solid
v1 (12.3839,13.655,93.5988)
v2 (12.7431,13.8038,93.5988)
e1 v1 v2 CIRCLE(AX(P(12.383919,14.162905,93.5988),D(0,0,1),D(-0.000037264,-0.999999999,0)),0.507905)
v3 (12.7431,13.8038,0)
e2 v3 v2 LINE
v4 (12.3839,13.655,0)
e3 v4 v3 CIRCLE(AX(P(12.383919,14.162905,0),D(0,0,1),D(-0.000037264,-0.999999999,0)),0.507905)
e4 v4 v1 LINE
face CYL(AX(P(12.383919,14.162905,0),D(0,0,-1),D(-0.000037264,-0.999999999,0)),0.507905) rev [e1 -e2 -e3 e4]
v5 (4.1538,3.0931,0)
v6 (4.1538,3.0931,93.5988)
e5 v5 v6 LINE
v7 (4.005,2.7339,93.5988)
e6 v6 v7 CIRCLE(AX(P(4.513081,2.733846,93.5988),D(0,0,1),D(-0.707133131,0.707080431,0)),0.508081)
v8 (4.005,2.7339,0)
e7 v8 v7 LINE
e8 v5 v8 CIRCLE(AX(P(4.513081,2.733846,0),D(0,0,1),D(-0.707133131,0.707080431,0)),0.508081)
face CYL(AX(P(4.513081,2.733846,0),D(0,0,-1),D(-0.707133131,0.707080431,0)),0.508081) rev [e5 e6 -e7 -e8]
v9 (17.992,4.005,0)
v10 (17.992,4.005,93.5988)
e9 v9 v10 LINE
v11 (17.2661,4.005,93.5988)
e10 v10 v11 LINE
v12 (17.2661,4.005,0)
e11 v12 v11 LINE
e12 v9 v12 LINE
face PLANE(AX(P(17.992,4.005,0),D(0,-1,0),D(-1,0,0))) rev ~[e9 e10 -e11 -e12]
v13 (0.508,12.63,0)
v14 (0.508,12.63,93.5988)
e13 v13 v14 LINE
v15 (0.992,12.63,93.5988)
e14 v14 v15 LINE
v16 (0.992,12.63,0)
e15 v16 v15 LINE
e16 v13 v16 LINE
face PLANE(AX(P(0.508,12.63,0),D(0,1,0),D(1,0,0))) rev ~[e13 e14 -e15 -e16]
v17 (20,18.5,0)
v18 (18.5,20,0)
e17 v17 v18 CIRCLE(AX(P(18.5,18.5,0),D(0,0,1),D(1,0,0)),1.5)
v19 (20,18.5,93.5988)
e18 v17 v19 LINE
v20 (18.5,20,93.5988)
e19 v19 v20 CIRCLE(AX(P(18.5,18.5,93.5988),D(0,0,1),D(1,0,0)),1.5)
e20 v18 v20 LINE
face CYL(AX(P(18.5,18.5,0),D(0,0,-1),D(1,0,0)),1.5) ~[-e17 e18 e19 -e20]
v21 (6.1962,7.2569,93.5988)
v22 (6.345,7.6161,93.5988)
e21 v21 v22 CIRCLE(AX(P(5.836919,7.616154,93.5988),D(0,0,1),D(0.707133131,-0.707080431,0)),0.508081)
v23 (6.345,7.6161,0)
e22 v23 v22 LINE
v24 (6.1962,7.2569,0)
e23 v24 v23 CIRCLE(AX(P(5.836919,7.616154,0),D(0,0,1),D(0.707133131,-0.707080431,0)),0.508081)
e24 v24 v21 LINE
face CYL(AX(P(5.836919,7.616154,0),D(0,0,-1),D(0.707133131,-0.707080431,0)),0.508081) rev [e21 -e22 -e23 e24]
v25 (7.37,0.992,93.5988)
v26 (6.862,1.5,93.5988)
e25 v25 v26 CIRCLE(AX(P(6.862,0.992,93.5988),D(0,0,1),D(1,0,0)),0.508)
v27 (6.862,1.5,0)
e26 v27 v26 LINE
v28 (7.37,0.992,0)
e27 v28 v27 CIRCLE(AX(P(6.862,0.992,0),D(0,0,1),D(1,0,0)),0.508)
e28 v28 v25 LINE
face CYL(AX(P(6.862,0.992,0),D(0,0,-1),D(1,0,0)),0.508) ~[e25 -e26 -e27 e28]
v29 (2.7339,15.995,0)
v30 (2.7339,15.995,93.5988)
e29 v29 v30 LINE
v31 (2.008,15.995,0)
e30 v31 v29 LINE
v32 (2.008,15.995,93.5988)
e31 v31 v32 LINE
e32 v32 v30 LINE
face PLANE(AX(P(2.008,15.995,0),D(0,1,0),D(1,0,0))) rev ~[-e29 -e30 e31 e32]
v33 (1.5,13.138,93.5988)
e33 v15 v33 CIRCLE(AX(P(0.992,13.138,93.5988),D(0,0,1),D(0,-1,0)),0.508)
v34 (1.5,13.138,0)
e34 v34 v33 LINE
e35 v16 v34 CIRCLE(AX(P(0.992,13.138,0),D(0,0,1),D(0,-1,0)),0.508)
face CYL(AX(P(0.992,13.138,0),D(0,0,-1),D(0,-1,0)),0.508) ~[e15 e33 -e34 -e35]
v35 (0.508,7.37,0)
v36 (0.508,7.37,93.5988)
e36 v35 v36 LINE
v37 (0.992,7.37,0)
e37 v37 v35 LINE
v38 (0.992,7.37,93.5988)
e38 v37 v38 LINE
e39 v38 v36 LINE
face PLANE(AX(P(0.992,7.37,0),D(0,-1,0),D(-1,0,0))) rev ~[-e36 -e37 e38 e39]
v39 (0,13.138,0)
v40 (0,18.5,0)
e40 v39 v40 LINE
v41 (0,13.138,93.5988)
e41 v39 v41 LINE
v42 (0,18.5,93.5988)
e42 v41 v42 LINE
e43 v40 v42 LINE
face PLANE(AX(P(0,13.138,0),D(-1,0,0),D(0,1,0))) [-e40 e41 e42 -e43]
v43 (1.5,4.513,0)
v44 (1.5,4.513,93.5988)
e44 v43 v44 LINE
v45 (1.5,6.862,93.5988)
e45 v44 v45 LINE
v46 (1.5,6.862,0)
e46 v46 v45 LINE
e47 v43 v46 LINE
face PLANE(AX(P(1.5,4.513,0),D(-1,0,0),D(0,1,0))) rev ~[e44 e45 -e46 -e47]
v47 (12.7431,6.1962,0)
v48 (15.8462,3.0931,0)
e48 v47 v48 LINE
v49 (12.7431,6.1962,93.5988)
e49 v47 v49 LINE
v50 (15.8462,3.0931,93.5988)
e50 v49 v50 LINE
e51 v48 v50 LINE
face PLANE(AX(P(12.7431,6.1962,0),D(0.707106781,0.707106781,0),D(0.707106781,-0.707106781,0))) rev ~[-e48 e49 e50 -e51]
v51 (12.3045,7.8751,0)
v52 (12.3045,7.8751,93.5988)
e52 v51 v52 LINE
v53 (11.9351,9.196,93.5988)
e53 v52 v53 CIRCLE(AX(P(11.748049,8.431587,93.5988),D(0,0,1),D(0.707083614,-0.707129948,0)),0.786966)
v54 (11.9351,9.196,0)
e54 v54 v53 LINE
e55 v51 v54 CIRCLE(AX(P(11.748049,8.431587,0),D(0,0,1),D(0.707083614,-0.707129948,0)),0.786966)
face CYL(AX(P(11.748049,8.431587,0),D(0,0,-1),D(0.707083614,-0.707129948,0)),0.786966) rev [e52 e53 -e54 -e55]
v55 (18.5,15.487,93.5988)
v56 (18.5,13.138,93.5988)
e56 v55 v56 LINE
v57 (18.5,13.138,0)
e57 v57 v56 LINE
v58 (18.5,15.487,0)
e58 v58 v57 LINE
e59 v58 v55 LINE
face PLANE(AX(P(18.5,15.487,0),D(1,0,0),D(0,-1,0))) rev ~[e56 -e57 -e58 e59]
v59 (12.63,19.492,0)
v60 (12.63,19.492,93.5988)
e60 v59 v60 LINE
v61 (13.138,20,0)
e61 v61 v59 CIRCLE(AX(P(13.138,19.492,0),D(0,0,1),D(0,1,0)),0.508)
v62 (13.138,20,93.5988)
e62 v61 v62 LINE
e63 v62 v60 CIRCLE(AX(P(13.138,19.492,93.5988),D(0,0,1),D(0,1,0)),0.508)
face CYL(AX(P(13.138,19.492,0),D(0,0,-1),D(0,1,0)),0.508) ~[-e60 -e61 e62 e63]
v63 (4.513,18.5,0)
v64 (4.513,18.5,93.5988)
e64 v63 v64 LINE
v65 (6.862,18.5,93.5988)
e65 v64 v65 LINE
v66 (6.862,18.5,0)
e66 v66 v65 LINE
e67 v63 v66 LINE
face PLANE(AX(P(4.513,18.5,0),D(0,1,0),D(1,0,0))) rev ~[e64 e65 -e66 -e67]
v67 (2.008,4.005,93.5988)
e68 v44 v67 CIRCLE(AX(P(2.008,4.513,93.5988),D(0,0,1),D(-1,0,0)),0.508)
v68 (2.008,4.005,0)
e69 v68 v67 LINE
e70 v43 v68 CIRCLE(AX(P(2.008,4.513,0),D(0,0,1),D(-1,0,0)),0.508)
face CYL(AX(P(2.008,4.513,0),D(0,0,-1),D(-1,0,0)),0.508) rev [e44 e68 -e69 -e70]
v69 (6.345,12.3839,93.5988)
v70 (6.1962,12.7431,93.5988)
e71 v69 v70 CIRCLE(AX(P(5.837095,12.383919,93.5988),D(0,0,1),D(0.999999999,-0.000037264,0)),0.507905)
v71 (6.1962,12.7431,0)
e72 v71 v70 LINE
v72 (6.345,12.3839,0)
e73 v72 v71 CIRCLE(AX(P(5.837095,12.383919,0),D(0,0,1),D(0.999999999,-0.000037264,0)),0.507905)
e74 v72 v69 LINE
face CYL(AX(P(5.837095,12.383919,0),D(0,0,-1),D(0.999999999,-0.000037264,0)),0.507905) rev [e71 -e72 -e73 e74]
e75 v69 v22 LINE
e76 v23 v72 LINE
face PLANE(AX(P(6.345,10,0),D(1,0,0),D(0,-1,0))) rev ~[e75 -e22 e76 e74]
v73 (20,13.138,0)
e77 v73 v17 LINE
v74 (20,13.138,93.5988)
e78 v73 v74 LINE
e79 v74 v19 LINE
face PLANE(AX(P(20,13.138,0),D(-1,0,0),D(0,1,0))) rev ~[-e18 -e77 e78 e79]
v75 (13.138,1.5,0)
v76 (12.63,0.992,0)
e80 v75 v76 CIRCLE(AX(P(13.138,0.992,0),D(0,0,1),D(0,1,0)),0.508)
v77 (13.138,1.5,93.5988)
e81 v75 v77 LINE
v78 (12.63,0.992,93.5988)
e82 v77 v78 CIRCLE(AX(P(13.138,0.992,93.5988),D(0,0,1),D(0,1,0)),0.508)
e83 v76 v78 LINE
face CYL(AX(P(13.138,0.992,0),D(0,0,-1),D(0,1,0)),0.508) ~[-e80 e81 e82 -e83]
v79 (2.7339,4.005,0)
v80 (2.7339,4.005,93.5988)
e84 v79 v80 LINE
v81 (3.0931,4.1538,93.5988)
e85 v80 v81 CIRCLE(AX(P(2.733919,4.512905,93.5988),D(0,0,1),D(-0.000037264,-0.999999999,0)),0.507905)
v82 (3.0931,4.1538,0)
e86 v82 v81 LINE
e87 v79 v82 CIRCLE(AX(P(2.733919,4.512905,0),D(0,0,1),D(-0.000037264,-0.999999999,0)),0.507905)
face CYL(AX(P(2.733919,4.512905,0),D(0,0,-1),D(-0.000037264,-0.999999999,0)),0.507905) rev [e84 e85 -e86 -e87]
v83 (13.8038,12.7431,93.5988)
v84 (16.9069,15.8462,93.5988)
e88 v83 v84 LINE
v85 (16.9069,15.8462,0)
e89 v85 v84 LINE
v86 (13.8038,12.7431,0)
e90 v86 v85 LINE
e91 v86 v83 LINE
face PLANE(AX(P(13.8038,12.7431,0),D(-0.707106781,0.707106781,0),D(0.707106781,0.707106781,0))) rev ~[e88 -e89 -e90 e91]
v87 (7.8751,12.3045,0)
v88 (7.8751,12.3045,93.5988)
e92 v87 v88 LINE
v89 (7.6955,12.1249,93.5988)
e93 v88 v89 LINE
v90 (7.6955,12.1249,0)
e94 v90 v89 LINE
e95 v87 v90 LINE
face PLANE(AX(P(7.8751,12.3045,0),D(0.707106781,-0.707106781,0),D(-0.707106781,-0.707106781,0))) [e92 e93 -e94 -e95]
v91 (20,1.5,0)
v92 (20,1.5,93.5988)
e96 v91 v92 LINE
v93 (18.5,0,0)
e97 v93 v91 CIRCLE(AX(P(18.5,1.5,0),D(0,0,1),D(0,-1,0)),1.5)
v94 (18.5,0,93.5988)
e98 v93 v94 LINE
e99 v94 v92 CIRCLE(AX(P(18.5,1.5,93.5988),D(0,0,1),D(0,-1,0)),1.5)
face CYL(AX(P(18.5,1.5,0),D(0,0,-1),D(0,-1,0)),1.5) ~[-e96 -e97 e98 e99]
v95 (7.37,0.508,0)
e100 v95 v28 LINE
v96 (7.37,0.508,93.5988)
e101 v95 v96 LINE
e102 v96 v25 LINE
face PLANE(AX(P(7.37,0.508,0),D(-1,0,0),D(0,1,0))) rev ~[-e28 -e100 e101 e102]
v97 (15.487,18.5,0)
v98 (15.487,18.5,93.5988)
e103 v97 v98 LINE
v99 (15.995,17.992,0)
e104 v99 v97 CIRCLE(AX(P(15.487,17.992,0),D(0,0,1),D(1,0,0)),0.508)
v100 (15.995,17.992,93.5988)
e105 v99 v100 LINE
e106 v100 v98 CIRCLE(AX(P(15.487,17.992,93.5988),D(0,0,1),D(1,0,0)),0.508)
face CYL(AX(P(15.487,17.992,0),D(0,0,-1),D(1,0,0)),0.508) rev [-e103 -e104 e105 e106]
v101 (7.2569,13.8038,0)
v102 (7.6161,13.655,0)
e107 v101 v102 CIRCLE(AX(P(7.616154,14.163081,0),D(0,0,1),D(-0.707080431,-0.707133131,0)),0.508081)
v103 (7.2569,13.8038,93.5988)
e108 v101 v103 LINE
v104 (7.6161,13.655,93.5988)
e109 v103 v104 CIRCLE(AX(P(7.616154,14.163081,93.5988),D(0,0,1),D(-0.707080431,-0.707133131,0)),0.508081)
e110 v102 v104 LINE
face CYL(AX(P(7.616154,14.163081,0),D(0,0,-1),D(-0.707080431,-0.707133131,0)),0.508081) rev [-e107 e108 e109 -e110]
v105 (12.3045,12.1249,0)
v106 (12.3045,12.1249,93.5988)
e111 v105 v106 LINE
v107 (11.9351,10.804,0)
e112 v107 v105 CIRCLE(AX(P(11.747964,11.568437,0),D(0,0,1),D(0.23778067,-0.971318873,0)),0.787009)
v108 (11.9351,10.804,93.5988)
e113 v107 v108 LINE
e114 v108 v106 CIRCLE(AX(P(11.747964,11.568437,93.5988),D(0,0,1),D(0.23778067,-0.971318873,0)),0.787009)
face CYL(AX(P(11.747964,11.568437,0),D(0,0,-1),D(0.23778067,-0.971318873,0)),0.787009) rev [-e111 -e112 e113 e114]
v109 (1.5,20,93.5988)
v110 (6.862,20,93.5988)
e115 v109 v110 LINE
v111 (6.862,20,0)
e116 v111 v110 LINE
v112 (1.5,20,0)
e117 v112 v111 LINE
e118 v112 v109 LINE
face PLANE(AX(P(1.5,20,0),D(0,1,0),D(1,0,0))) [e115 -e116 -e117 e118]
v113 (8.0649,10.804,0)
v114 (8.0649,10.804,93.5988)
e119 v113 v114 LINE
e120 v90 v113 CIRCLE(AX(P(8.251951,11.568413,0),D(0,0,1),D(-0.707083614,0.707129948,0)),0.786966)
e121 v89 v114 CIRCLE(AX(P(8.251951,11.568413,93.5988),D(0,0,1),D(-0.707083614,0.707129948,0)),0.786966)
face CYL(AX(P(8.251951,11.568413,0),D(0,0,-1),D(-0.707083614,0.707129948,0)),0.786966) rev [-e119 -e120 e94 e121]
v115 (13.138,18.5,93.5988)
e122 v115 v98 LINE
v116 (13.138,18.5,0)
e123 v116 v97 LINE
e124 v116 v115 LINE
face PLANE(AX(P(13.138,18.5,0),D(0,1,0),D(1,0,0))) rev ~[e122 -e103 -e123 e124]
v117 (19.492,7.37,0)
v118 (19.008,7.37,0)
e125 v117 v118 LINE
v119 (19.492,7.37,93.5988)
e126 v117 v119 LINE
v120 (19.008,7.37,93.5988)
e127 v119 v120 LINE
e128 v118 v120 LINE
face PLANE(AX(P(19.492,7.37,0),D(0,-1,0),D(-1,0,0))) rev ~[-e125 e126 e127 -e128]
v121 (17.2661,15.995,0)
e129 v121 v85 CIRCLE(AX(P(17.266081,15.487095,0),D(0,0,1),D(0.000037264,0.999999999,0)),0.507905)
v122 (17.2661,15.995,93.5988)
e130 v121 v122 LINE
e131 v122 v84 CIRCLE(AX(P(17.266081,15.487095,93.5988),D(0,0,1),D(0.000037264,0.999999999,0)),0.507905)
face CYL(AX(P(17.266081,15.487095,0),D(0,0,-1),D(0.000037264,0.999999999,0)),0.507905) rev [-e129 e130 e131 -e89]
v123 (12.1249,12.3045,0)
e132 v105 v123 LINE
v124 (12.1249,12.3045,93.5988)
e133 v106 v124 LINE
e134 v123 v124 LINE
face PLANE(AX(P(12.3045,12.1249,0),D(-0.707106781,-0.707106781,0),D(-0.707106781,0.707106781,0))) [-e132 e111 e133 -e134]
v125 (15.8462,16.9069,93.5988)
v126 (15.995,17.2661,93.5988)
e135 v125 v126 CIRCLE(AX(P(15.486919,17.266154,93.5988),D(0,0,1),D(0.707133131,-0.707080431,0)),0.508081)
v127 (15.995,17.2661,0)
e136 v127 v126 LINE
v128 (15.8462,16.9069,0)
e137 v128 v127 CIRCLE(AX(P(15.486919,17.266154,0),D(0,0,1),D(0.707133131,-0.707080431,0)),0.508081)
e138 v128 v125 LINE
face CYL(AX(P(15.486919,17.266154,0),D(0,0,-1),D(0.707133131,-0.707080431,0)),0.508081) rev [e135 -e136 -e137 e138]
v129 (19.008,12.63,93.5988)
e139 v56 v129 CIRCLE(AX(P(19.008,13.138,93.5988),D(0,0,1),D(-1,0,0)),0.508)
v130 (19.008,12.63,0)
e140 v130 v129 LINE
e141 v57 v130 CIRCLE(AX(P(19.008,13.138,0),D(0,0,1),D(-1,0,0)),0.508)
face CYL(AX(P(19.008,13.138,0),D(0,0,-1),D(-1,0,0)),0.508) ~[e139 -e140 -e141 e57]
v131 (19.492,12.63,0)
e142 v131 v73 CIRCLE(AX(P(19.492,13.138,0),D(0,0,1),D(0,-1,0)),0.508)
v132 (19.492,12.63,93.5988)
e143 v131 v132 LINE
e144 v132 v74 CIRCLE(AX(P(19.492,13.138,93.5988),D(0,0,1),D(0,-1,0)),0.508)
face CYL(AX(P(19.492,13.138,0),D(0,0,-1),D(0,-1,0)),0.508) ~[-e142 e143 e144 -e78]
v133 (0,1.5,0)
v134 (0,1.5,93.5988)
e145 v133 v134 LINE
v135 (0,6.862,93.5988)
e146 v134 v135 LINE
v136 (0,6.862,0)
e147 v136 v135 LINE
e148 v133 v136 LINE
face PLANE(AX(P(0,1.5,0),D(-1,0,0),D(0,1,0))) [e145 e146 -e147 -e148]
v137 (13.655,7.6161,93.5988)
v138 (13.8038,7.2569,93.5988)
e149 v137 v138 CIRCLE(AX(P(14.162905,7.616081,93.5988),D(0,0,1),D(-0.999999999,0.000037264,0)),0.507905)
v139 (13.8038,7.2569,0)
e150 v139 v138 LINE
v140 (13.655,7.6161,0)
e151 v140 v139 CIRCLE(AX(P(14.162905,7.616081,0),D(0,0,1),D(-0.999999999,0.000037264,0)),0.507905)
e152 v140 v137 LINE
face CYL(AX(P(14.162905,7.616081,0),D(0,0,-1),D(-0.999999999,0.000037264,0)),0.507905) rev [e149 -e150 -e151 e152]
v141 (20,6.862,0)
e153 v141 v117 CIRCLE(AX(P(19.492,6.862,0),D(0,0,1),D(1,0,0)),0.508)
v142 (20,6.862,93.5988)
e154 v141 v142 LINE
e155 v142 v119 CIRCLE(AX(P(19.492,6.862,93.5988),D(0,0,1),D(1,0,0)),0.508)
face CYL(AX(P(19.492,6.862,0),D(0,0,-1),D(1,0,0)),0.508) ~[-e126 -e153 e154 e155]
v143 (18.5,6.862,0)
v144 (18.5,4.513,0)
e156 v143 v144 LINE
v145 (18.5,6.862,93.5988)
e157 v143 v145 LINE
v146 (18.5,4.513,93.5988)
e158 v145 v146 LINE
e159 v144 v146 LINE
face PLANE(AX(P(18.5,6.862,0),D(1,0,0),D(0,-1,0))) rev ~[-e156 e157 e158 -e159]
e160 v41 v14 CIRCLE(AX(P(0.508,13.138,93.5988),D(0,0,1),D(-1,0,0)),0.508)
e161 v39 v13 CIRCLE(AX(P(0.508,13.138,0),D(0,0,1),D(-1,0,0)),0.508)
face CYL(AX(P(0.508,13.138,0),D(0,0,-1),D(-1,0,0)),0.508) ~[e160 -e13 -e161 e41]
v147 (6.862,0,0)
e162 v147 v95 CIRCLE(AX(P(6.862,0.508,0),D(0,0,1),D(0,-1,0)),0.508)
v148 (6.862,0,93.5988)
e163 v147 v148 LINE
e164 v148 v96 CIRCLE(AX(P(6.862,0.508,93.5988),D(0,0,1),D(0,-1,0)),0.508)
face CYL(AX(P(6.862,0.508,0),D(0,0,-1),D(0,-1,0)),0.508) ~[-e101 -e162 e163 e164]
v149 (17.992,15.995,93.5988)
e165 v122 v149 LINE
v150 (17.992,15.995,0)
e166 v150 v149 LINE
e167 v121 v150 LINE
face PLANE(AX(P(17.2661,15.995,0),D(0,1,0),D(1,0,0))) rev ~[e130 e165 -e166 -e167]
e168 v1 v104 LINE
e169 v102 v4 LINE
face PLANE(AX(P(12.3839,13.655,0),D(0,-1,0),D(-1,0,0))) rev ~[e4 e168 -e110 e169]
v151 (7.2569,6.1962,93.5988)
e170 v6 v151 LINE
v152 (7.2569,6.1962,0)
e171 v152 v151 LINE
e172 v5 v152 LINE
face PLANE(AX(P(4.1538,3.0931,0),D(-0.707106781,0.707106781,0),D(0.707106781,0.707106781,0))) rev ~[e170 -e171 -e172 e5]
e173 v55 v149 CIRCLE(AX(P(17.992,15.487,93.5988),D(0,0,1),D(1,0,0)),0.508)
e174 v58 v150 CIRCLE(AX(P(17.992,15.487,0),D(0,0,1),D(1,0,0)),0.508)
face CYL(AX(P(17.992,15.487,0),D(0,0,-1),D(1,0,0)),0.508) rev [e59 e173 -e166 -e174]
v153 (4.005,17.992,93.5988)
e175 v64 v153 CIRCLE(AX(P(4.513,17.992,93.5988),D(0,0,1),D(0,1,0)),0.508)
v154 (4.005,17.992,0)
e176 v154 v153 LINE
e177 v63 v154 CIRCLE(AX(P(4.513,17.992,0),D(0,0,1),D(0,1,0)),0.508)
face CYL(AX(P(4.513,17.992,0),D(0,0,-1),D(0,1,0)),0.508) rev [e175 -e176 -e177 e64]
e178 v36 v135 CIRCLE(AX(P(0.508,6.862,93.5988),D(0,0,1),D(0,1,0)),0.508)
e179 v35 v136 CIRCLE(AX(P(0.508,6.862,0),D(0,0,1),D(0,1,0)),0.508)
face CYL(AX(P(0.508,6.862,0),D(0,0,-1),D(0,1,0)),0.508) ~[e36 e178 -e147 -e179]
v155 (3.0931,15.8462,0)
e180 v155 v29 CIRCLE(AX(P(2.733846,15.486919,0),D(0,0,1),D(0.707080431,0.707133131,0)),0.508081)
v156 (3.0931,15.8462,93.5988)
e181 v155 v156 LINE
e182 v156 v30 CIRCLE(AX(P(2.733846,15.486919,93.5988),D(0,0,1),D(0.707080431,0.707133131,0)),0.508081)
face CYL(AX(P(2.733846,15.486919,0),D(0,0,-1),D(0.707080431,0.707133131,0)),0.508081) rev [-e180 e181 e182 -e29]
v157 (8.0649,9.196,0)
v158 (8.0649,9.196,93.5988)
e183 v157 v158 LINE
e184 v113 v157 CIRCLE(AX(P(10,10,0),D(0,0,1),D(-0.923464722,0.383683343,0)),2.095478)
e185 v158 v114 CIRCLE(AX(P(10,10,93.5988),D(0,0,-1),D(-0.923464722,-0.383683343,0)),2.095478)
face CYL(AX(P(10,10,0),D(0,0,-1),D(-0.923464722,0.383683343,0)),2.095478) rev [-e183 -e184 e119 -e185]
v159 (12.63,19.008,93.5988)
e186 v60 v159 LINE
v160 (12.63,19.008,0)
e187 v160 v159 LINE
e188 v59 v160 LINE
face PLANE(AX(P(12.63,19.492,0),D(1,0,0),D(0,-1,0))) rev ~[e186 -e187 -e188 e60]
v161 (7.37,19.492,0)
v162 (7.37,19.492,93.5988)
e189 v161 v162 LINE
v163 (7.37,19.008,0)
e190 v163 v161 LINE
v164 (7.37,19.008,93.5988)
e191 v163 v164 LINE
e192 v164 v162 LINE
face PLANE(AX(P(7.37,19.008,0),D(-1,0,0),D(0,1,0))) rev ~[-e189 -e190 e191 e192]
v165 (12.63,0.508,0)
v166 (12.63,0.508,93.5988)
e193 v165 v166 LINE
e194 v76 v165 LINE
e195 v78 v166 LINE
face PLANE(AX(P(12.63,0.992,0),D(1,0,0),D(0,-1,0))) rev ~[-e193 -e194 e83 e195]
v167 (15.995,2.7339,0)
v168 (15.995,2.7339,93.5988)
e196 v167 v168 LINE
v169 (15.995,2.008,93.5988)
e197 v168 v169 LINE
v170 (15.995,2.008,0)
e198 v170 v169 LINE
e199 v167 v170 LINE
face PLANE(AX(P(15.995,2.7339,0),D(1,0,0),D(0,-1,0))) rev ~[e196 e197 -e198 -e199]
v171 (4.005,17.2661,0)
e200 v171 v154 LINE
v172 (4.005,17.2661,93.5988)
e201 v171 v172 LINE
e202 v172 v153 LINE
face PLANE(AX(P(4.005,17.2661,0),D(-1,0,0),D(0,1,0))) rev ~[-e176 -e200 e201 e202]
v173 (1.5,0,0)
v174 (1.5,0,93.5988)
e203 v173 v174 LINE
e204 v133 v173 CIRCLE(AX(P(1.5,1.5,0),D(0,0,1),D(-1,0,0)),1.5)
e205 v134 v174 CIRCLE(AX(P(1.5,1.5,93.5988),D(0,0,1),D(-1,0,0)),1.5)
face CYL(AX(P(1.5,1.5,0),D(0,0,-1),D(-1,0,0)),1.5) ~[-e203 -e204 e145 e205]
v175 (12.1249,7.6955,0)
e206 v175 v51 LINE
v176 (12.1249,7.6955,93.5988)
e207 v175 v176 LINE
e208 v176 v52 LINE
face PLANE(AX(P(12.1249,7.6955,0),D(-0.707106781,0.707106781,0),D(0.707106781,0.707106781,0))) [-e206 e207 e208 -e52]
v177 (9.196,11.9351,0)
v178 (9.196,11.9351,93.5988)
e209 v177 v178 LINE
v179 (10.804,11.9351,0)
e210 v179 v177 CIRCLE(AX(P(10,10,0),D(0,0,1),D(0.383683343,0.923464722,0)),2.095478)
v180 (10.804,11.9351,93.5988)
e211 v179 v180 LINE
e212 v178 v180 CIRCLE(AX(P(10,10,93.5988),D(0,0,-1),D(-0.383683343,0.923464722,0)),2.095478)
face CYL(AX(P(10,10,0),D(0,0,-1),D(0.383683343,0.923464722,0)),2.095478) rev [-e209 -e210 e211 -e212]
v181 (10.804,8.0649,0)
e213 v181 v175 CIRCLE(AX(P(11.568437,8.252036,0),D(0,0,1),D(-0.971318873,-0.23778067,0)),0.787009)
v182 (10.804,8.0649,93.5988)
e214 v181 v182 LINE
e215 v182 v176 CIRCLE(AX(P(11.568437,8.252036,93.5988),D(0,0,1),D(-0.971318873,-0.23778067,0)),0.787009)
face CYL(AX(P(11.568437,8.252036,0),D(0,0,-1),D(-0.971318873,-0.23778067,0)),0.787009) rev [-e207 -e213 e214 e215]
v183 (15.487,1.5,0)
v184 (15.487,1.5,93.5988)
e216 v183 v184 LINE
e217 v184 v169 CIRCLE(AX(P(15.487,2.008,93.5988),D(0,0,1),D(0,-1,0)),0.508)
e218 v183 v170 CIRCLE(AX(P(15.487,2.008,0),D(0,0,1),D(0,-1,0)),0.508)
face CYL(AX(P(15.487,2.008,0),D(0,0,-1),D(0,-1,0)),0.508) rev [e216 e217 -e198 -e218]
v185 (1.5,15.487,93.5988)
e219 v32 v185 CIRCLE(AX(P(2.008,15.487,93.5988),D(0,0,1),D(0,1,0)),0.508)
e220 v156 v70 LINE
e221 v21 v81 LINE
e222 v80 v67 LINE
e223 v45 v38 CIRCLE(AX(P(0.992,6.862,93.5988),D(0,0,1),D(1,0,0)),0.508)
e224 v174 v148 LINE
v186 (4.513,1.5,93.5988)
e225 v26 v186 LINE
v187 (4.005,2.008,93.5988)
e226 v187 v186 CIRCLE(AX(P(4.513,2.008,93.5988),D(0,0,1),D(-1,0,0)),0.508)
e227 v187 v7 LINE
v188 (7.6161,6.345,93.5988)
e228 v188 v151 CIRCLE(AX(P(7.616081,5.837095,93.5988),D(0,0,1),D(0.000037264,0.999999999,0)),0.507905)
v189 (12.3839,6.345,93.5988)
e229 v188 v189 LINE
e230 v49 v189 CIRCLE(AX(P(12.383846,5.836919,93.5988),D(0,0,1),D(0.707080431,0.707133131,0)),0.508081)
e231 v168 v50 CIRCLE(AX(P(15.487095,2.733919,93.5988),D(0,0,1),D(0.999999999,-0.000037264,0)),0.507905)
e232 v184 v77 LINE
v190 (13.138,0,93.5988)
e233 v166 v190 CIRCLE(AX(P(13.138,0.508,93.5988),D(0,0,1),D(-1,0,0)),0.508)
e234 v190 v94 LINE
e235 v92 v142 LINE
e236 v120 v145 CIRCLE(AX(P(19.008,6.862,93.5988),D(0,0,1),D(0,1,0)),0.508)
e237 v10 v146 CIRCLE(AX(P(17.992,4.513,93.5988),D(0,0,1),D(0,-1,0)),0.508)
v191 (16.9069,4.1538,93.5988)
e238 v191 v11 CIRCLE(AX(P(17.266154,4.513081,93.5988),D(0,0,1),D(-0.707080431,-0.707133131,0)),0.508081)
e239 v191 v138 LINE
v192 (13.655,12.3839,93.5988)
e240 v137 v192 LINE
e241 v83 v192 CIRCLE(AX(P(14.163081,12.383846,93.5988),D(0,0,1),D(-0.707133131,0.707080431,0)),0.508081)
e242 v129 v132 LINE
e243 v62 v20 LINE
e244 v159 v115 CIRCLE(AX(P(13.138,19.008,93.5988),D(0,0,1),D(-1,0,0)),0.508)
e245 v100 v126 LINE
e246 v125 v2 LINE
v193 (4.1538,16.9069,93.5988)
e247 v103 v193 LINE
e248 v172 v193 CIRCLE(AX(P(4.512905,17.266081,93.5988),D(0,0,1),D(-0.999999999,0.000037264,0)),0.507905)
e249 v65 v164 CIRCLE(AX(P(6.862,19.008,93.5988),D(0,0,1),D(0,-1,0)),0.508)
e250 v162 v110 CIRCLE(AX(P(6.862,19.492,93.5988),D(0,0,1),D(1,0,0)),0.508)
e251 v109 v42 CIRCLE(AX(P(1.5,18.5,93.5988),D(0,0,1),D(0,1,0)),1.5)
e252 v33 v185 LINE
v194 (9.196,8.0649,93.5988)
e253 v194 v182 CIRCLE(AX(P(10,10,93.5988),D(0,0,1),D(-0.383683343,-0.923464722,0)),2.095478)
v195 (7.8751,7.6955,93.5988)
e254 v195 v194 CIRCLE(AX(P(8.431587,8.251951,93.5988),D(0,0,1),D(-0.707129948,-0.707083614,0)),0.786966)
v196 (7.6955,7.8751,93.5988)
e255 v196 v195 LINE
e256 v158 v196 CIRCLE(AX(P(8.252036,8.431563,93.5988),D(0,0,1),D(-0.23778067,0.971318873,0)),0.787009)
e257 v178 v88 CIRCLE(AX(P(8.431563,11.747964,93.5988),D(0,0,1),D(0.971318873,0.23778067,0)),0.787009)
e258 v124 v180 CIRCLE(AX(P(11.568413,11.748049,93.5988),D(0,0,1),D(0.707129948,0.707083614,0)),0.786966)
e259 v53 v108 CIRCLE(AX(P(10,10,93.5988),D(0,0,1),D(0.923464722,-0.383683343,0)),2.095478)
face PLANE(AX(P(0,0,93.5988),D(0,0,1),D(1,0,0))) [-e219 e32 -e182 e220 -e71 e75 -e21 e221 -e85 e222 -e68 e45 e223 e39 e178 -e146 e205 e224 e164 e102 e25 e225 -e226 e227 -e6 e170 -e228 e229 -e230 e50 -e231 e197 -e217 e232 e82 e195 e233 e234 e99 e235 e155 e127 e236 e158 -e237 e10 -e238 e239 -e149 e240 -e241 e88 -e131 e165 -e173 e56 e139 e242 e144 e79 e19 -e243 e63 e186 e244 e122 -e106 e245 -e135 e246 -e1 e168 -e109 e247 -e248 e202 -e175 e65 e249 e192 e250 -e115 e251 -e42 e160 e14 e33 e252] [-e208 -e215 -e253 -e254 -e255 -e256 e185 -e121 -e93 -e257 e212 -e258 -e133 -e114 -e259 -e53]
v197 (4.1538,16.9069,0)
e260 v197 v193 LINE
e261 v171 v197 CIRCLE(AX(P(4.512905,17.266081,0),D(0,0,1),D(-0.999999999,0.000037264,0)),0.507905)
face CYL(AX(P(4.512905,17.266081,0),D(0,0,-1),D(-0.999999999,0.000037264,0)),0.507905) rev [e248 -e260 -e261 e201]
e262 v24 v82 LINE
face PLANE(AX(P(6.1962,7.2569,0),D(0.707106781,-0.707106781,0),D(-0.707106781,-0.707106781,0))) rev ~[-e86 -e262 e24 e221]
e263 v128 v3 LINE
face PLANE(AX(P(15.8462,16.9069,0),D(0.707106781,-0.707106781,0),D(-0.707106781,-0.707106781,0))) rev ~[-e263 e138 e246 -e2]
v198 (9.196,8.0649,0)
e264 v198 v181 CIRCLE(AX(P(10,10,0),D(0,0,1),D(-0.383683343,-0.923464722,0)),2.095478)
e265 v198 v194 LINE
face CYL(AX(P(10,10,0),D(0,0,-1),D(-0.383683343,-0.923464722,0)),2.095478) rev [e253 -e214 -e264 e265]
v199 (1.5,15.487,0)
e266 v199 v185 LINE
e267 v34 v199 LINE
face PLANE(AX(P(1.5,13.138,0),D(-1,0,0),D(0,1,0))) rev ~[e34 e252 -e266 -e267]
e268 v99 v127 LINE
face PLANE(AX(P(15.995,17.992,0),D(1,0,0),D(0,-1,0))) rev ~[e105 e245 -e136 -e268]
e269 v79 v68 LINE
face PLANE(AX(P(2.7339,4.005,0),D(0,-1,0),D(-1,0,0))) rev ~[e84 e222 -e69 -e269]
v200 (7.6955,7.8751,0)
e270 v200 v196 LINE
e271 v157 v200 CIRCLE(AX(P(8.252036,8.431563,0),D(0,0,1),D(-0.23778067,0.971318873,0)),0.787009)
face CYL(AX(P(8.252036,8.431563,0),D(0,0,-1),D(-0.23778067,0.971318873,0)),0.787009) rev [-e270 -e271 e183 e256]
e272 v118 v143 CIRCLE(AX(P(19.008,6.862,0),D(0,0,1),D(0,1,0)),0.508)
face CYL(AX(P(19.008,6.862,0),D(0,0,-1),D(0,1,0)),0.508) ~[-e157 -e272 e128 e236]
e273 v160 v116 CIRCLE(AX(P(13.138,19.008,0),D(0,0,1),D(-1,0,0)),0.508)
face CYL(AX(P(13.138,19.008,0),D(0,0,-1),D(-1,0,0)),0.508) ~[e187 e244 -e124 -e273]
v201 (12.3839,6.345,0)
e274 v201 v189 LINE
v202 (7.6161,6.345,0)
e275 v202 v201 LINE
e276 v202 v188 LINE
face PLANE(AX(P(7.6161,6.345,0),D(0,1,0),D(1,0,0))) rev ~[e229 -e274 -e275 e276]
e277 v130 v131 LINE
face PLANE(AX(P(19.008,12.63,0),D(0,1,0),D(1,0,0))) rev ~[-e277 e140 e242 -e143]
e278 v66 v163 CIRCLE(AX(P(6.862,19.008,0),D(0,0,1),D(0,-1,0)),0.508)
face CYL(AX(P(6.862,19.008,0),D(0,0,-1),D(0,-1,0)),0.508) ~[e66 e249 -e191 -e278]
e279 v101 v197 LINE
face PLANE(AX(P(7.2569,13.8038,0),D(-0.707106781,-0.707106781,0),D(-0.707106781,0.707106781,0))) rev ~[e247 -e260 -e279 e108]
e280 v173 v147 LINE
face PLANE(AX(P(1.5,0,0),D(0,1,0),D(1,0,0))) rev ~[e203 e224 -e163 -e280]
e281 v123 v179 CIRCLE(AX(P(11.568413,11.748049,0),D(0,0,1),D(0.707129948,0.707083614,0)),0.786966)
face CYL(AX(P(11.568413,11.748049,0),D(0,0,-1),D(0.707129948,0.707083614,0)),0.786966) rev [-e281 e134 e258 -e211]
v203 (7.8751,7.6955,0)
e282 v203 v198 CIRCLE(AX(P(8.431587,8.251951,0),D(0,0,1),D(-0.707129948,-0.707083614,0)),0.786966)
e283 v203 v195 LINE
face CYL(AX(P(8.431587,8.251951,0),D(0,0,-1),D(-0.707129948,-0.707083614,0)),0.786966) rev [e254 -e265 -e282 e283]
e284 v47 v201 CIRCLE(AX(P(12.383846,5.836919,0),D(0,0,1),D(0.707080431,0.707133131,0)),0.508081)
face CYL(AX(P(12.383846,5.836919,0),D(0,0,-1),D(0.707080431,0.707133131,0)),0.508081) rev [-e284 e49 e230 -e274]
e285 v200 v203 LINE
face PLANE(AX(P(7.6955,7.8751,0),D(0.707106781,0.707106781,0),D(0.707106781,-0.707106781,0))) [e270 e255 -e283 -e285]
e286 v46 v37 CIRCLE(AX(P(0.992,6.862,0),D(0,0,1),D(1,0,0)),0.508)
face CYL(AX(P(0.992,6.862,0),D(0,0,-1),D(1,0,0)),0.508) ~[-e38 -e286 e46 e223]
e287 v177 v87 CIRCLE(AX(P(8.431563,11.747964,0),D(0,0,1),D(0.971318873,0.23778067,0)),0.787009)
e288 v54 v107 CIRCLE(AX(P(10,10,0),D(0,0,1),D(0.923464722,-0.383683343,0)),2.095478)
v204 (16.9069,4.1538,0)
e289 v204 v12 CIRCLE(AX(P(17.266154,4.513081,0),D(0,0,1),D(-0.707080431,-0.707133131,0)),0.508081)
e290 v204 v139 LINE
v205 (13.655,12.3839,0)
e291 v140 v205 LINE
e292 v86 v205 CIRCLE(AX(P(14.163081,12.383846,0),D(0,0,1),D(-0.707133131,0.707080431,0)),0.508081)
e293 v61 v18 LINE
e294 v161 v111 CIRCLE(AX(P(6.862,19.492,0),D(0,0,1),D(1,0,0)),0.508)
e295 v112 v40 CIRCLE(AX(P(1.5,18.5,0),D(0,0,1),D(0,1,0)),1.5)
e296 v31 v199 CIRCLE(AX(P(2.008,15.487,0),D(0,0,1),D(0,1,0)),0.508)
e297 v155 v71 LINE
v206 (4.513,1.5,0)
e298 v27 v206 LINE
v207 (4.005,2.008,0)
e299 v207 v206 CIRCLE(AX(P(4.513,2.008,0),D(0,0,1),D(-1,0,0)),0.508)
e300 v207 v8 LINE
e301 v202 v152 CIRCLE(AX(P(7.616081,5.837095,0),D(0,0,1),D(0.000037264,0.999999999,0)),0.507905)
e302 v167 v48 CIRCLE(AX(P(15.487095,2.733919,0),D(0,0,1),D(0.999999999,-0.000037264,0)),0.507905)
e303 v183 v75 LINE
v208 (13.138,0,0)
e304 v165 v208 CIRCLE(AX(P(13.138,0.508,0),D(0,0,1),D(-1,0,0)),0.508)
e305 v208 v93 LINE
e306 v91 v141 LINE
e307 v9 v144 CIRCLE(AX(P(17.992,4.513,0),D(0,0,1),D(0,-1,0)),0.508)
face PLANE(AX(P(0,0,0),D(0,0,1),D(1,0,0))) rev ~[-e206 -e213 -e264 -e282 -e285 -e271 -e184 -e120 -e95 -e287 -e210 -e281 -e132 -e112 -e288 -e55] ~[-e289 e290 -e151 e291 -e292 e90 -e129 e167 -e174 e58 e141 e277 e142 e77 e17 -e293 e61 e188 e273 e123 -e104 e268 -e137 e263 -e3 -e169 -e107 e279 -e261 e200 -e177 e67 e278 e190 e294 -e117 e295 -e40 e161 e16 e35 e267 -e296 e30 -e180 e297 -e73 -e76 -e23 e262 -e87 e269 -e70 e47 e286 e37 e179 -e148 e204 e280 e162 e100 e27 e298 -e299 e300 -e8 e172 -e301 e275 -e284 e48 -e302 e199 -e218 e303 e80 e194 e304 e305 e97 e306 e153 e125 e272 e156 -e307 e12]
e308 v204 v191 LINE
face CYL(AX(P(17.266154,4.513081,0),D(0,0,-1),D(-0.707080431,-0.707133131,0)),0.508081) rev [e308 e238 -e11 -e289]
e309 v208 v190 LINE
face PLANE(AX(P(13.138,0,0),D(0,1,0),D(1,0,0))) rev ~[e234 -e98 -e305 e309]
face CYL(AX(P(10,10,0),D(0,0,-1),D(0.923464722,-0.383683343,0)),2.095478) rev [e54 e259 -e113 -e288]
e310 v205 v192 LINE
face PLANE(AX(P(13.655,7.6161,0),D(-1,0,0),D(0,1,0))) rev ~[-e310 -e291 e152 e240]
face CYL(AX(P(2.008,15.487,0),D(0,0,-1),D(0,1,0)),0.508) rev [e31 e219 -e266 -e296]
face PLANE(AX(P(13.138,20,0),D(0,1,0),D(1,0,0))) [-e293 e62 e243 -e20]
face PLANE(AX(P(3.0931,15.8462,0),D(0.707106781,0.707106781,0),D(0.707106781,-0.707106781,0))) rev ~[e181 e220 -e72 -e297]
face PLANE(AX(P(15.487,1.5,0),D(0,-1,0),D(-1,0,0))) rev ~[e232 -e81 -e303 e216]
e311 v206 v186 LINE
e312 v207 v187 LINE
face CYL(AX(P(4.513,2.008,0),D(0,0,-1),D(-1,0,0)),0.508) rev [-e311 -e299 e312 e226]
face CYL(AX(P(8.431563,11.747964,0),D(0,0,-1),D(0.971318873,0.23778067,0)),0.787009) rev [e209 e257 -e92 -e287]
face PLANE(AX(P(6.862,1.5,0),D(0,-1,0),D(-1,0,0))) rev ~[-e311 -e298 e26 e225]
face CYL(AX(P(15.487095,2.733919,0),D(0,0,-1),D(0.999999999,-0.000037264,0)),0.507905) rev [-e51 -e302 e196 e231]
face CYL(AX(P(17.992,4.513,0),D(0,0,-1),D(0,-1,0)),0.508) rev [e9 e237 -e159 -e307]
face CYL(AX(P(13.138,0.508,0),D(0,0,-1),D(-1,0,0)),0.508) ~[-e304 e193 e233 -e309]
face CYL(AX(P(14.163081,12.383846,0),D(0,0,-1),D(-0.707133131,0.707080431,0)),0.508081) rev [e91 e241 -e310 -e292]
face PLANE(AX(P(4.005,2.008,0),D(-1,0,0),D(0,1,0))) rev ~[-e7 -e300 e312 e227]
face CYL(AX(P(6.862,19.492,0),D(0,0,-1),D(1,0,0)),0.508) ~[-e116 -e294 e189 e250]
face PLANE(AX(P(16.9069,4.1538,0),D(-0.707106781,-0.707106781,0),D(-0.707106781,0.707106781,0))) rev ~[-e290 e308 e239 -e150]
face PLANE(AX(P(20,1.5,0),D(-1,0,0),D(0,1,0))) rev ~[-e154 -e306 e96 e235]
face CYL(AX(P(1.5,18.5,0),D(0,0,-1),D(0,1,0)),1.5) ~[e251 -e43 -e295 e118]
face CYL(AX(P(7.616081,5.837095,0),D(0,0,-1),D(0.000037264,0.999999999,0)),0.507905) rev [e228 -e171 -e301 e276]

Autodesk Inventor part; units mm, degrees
ref_plane "YZ Plane" through (0, 0, 0) normal (1, 0, 0) x (0, 1, 0)
ref_plane "XZ Plane" through (0, 0, 0) normal (0, 1, 0) x (-1, 0, 0)
sketch "Sketch1" plane through (0, 0, 0) normal (0, 0, 1) x (1, 0, 0)
  line L0 (0, 0) -> (20, 0) projected
  line L1 (20, 0) -> (20, 20) projected
  line L2 (0, 20) -> (20, 20) projected
  line L3 (0, 0) -> (0, 20) projected
  line L4 (0, 20) -> (10, 20)
  line L5 (10, 20) -> (10, 10)
  line L6 (10, 10) -> (0, 10)
  line L7 (0, 10) -> (0, 20)
  arc A0 (10.804, 8.0649) -> (12.1249, 7.6955) centre (11.5684, 8.252) ccw
  line L8 (12.1249, 7.6955) -> (12.3045, 7.8751)
  arc A1 (12.3045, 7.8751) -> (11.9351, 9.196) centre (11.748, 8.4316) ccw
  arc A2 (11.9351, 9.196) -> (11.9351, 10.804) centre (10, 10) ccw
  arc A3 (11.9351, 10.804) -> (12.3045, 12.1249) centre (11.748, 11.5684) ccw
  line L9 (12.3045, 12.1249) -> (12.1249, 12.3045)
  arc A4 (12.1249, 12.3045) -> (10.804, 11.9351) centre (11.5684, 11.748) ccw
  arc A5 (10.804, 11.9351) -> (9.196, 11.9351) centre (10, 10) ccw
  arc A6 (9.196, 11.9351) -> (7.8751, 12.3045) centre (8.4316, 11.748) ccw
  line L10 (7.8751, 12.3045) -> (7.6955, 12.1249)
  arc A7 (7.6955, 12.1249) -> (8.0649, 10.804) centre (8.252, 11.5684) ccw
  arc A8 (8.0649, 10.804) -> (8.0649, 9.196) centre (10, 10) ccw
  arc A9 (8.0649, 9.196) -> (7.6955, 7.8751) centre (8.252, 8.4316) ccw
  line L11 (7.6955, 7.8751) -> (7.8751, 7.6955)
  arc A10 (7.8751, 7.6955) -> (9.196, 8.0649) centre (8.4316, 8.252) ccw
  arc A11 (9.196, 8.0649) -> (10.804, 8.0649) centre (10, 10) ccw
  line L12 (19.008, 12.63) -> (19.492, 12.63)
  arc A12 (18.5, 13.138) -> (19.008, 12.63) centre (19.008, 13.138) ccw
  line L13 (18.5, 15.487) -> (18.5, 13.138)
  arc A13 (18.5, 15.487) -> (17.992, 15.995) centre (17.992, 15.487) ccw
  line L14 (17.2661, 15.995) -> (17.992, 15.995)
  arc A14 (17.2661, 15.995) -> (16.9069, 15.8462) centre (17.2661, 15.487) ccw
  line L15 (13.8038, 12.7431) -> (16.9069, 15.8462)
  arc A15 (13.8038, 12.7431) -> (13.655, 12.3839) centre (14.163, 12.3839) ccw
  line L16 (13.655, 7.6161) -> (13.655, 12.3839)
  arc A16 (13.655, 7.6161) -> (13.8038, 7.2569) centre (14.163, 7.6161) ccw
  line L17 (16.9069, 4.1538) -> (13.8038, 7.2569)
  arc A17 (16.9069, 4.1538) -> (17.2661, 4.005) centre (17.2661, 4.513) ccw
  line L18 (17.992, 4.005) -> (17.2661, 4.005)
  arc A18 (17.992, 4.005) -> (18.5, 4.513) centre (17.992, 4.513) ccw
  line L19 (18.5, 6.862) -> (18.5, 4.513)
  arc A19 (19.008, 7.37) -> (18.5, 6.862) centre (19.008, 6.862) ccw
  line L20 (19.492, 7.37) -> (19.008, 7.37)
  arc A20 (20, 6.862) -> (19.492, 7.37) centre (19.492, 6.862) ccw
  line L21 (20, 1.5) -> (20, 6.862)
  arc A21 (18.5, 0) -> (20, 1.5) centre (18.5, 1.5) ccw
  line L22 (13.138, 0) -> (18.5, 0)
  arc A22 (12.63, 0.508) -> (13.138, 0) centre (13.138, 0.508) ccw
  line L23 (12.63, 0.992) -> (12.63, 0.508)
  arc A23 (13.138, 1.5) -> (12.63, 0.992) centre (13.138, 0.992) ccw
  line L24 (15.487, 1.5) -> (13.138, 1.5)
  arc A24 (15.487, 1.5) -> (15.995, 2.008) centre (15.487, 2.008) ccw
  line L25 (15.995, 2.7339) -> (15.995, 2.008)
  arc A25 (15.995, 2.7339) -> (15.8462, 3.0931) centre (15.487, 2.7339) ccw
  line L26 (12.7431, 6.1962) -> (15.8462, 3.0931)
  arc A26 (12.7431, 6.1962) -> (12.3839, 6.345) centre (12.3839, 5.837) ccw
  line L27 (7.6161, 6.345) -> (12.3839, 6.345)
  arc A27 (7.6161, 6.345) -> (7.2569, 6.1962) centre (7.6161, 5.837) ccw
  line L28 (4.1538, 3.0931) -> (7.2569, 6.1962)
  arc A28 (4.1538, 3.0931) -> (4.005, 2.7339) centre (4.513, 2.7339) ccw
  line L29 (4.005, 2.008) -> (4.005, 2.7339)
  arc A29 (4.005, 2.008) -> (4.513, 1.5) centre (4.513, 2.008) ccw
  line L30 (6.862, 1.5) -> (4.513, 1.5)
  arc A30 (7.37, 0.992) -> (6.862, 1.5) centre (6.862, 0.992) ccw
  line L31 (7.37, 0.508) -> (7.37, 0.992)
  arc A31 (6.862, 0) -> (7.37, 0.508) centre (6.862, 0.508) ccw
  line L32 (1.5, 0) -> (6.862, 0)
  arc A32 (0, 1.5) -> (1.5, 0) centre (1.5, 1.5) ccw
  line L33 (0, 6.862) -> (0, 1.5)
  arc A33 (0.508, 7.37) -> (0, 6.862) centre (0.508, 6.862) ccw
  line L34 (0.992, 7.37) -> (0.508, 7.37)
  arc A34 (1.5, 6.862) -> (0.992, 7.37) centre (0.992, 6.862) ccw
  line L35 (1.5, 4.513) -> (1.5, 6.862)
  arc A35 (1.5, 4.513) -> (2.008, 4.005) centre (2.008, 4.513) ccw
  line L36 (2.7339, 4.005) -> (2.008, 4.005)
  arc A36 (2.7339, 4.005) -> (3.0931, 4.1538) centre (2.7339, 4.513) ccw
  line L37 (6.1962, 7.2569) -> (3.0931, 4.1538)
  arc A37 (6.1962, 7.2569) -> (6.345, 7.6161) centre (5.837, 7.6161) ccw
  line L38 (6.345, 12.3839) -> (6.345, 7.6161)
  arc A38 (6.345, 12.3839) -> (6.1962, 12.7431) centre (5.837, 12.3839) ccw
  line L39 (3.0931, 15.8462) -> (6.1962, 12.7431)
  arc A39 (3.0931, 15.8462) -> (2.7339, 15.995) centre (2.7339, 15.487) ccw
  line L40 (2.008, 15.995) -> (2.7339, 15.995)
  arc A40 (2.008, 15.995) -> (1.5, 15.487) centre (2.008, 15.487) ccw
  line L41 (1.5, 13.138) -> (1.5, 15.487)
  arc A41 (0.992, 12.63) -> (1.5, 13.138) centre (0.992, 13.138) ccw
  line L42 (0.508, 12.63) -> (0.992, 12.63)
  arc A42 (0, 13.138) -> (0.508, 12.63) centre (0.508, 13.138) ccw
  line L43 (0, 18.5) -> (0, 13.138)
  arc A43 (1.5, 20) -> (0, 18.5) centre (1.5, 18.5) ccw
  line L44 (6.862, 20) -> (1.5, 20)
  arc A44 (7.37, 19.492) -> (6.862, 20) centre (6.862, 19.492) ccw
  line L45 (7.37, 19.008) -> (7.37, 19.492)
  arc A45 (6.862, 18.5) -> (7.37, 19.008) centre (6.862, 19.008) ccw
  line L46 (4.513, 18.5) -> (6.862, 18.5)
  arc A46 (4.513, 18.5) -> (4.005, 17.992) centre (4.513, 17.992) ccw
  line L47 (4.005, 17.2661) -> (4.005, 17.992)
  arc A47 (4.005, 17.2661) -> (4.1538, 16.9069) centre (4.513, 17.2661) ccw
  line L48 (7.2569, 13.8038) -> (4.1538, 16.9069)
  arc A48 (7.2569, 13.8038) -> (7.6161, 13.655) centre (7.6161, 14.163) ccw
  line L49 (12.3839, 13.655) -> (7.6161, 13.655)
  arc A49 (12.3839, 13.655) -> (12.7431, 13.8038) centre (12.3839, 14.163) ccw
  line L50 (15.8462, 16.9069) -> (12.7431, 13.8038)
  arc A50 (15.8462, 16.9069) -> (15.995, 17.2661) centre (15.487, 17.2661) ccw
  line L51 (15.995, 17.992) -> (15.995, 17.2661)
  arc A51 (15.995, 17.992) -> (15.487, 18.5) centre (15.487, 17.992) ccw
  line L52 (13.138, 18.5) -> (15.487, 18.5)
  arc A52 (12.63, 19.008) -> (13.138, 18.5) centre (13.138, 19.008) ccw
  line L53 (12.63, 19.492) -> (12.63, 19.008)
  arc A53 (13.138, 20) -> (12.63, 19.492) centre (13.138, 19.492) ccw
  line L54 (18.5, 20) -> (13.138, 20)
  arc A54 (20, 18.5) -> (18.5, 20) centre (18.5, 18.5) ccw
  line L55 (20, 13.138) -> (20, 18.5)
  arc A55 (19.492, 12.63) -> (20, 13.138) centre (19.492, 13.138) ccw
  point P0 (8.0649, 10.804)
  point P1 (7.8751, 12.3045)
  point P2 (9.196, 11.9351)
  point P3 (10.804, 11.9351)
  point P4 (12.3045, 12.1249)
  point P5 (11.9351, 10.804)
  point P6 (11.9351, 9.196)
  point P7 (12.1249, 7.6955)
  point P8 (10.804, 8.0649)
  point P9 (9.196, 8.0649)
  point P10 (7.6955, 7.8751)
  point P11 (8.0649, 9.196)
  point P12 (3.0931, 4.1538)
  point P13 (2.008, 4.005)
  point P14 (1.5, 6.862)
  point P15 (0.508, 7.37)
  point P16 (0, 1.5)
  point P17 (6.862, 0)
  point P18 (7.37, 0.508)
  point P19 (7.37, 0.992)
  point P20 (4.513, 1.5)
  point P21 (4.005, 2.7339)
  point P22 (7.2569, 6.1962)
  point P23 (12.3839, 6.345)
  point P24 (15.8462, 3.0931)
  point P25 (15.995, 2.008)
  point P26 (13.138, 1.5)
  point P27 (12.63, 0.508)
  point P28 (18.5, 0)
  point P29 (20, 6.862)
  point P30 (19.492, 7.37)
  point P31 (19.008, 7.37)
  point P32 (18.5, 4.513)
  point P33 (17.2661, 4.005)
  point P34 (13.8038, 7.2569)
  point P35 (13.655, 12.3839)
  point P36 (16.9069, 15.8462)
  point P37 (17.992, 15.995)
  point P38 (18.5, 13.138)
  point P39 (19.492, 12.63)
  point P40 (20, 18.5)
  point P41 (13.138, 20)
  point P42 (12.63, 19.492)
  point P43 (12.63, 19.008)
  point P44 (15.487, 18.5)
  point P45 (15.995, 17.2661)
  point P46 (12.7431, 13.8038)
  point P47 (4.1538, 16.9069)
  point P48 (4.005, 17.992)
  point P49 (6.862, 18.5)
  point P50 (7.37, 19.492)
  point P51 (1.5, 20)
  point P52 (0, 13.138)
  point P53 (0.508, 12.63)
  point P54 (0.992, 12.63)
  point P55 (1.5, 15.487)
  point P56 (2.7339, 15.995)
  point P57 (6.1962, 12.7431)
ref_plane "Work Plane1" through (-70.9931, -4.3, 93.5988) normal (0, 0, -1) x (0, 1, 0)
extrude "Extrusion1" add sketch "Sketch1" along normal up to surface (93.5988 mm away) contours A32 L3 A33 L34 A34 L35 A35 L36 A36 L37 A37 L38 L6 A8 A9 L11 A10 A11 A0 L8 A1 A2 A3 L9 A4 A5 L5 L49 A49 L50 A50 L51 A51 L52 A52 L53 A53 L2 A54 L1 A55 L12 A12 L13 A13 L14 A14 L15 A15 L16 A16 L17 A17 L18 A18 L19 A19 L20 A20 A21 L0 A22 L23 A23 L24 A24 L25 A25 L26 A26 L27 A27 L28 A28 L29 A29 L30 A30 L31 A31 | L3 A43 L2 A44 L45 A45 L46 A46 L47 A47 L48 A48 L49 L5 A5 A6 L10 A7 A8 L6 L38 A38 L39 A39 L40 A40 L41 A41 L42 A42
properties part number "2020_extrusion"
